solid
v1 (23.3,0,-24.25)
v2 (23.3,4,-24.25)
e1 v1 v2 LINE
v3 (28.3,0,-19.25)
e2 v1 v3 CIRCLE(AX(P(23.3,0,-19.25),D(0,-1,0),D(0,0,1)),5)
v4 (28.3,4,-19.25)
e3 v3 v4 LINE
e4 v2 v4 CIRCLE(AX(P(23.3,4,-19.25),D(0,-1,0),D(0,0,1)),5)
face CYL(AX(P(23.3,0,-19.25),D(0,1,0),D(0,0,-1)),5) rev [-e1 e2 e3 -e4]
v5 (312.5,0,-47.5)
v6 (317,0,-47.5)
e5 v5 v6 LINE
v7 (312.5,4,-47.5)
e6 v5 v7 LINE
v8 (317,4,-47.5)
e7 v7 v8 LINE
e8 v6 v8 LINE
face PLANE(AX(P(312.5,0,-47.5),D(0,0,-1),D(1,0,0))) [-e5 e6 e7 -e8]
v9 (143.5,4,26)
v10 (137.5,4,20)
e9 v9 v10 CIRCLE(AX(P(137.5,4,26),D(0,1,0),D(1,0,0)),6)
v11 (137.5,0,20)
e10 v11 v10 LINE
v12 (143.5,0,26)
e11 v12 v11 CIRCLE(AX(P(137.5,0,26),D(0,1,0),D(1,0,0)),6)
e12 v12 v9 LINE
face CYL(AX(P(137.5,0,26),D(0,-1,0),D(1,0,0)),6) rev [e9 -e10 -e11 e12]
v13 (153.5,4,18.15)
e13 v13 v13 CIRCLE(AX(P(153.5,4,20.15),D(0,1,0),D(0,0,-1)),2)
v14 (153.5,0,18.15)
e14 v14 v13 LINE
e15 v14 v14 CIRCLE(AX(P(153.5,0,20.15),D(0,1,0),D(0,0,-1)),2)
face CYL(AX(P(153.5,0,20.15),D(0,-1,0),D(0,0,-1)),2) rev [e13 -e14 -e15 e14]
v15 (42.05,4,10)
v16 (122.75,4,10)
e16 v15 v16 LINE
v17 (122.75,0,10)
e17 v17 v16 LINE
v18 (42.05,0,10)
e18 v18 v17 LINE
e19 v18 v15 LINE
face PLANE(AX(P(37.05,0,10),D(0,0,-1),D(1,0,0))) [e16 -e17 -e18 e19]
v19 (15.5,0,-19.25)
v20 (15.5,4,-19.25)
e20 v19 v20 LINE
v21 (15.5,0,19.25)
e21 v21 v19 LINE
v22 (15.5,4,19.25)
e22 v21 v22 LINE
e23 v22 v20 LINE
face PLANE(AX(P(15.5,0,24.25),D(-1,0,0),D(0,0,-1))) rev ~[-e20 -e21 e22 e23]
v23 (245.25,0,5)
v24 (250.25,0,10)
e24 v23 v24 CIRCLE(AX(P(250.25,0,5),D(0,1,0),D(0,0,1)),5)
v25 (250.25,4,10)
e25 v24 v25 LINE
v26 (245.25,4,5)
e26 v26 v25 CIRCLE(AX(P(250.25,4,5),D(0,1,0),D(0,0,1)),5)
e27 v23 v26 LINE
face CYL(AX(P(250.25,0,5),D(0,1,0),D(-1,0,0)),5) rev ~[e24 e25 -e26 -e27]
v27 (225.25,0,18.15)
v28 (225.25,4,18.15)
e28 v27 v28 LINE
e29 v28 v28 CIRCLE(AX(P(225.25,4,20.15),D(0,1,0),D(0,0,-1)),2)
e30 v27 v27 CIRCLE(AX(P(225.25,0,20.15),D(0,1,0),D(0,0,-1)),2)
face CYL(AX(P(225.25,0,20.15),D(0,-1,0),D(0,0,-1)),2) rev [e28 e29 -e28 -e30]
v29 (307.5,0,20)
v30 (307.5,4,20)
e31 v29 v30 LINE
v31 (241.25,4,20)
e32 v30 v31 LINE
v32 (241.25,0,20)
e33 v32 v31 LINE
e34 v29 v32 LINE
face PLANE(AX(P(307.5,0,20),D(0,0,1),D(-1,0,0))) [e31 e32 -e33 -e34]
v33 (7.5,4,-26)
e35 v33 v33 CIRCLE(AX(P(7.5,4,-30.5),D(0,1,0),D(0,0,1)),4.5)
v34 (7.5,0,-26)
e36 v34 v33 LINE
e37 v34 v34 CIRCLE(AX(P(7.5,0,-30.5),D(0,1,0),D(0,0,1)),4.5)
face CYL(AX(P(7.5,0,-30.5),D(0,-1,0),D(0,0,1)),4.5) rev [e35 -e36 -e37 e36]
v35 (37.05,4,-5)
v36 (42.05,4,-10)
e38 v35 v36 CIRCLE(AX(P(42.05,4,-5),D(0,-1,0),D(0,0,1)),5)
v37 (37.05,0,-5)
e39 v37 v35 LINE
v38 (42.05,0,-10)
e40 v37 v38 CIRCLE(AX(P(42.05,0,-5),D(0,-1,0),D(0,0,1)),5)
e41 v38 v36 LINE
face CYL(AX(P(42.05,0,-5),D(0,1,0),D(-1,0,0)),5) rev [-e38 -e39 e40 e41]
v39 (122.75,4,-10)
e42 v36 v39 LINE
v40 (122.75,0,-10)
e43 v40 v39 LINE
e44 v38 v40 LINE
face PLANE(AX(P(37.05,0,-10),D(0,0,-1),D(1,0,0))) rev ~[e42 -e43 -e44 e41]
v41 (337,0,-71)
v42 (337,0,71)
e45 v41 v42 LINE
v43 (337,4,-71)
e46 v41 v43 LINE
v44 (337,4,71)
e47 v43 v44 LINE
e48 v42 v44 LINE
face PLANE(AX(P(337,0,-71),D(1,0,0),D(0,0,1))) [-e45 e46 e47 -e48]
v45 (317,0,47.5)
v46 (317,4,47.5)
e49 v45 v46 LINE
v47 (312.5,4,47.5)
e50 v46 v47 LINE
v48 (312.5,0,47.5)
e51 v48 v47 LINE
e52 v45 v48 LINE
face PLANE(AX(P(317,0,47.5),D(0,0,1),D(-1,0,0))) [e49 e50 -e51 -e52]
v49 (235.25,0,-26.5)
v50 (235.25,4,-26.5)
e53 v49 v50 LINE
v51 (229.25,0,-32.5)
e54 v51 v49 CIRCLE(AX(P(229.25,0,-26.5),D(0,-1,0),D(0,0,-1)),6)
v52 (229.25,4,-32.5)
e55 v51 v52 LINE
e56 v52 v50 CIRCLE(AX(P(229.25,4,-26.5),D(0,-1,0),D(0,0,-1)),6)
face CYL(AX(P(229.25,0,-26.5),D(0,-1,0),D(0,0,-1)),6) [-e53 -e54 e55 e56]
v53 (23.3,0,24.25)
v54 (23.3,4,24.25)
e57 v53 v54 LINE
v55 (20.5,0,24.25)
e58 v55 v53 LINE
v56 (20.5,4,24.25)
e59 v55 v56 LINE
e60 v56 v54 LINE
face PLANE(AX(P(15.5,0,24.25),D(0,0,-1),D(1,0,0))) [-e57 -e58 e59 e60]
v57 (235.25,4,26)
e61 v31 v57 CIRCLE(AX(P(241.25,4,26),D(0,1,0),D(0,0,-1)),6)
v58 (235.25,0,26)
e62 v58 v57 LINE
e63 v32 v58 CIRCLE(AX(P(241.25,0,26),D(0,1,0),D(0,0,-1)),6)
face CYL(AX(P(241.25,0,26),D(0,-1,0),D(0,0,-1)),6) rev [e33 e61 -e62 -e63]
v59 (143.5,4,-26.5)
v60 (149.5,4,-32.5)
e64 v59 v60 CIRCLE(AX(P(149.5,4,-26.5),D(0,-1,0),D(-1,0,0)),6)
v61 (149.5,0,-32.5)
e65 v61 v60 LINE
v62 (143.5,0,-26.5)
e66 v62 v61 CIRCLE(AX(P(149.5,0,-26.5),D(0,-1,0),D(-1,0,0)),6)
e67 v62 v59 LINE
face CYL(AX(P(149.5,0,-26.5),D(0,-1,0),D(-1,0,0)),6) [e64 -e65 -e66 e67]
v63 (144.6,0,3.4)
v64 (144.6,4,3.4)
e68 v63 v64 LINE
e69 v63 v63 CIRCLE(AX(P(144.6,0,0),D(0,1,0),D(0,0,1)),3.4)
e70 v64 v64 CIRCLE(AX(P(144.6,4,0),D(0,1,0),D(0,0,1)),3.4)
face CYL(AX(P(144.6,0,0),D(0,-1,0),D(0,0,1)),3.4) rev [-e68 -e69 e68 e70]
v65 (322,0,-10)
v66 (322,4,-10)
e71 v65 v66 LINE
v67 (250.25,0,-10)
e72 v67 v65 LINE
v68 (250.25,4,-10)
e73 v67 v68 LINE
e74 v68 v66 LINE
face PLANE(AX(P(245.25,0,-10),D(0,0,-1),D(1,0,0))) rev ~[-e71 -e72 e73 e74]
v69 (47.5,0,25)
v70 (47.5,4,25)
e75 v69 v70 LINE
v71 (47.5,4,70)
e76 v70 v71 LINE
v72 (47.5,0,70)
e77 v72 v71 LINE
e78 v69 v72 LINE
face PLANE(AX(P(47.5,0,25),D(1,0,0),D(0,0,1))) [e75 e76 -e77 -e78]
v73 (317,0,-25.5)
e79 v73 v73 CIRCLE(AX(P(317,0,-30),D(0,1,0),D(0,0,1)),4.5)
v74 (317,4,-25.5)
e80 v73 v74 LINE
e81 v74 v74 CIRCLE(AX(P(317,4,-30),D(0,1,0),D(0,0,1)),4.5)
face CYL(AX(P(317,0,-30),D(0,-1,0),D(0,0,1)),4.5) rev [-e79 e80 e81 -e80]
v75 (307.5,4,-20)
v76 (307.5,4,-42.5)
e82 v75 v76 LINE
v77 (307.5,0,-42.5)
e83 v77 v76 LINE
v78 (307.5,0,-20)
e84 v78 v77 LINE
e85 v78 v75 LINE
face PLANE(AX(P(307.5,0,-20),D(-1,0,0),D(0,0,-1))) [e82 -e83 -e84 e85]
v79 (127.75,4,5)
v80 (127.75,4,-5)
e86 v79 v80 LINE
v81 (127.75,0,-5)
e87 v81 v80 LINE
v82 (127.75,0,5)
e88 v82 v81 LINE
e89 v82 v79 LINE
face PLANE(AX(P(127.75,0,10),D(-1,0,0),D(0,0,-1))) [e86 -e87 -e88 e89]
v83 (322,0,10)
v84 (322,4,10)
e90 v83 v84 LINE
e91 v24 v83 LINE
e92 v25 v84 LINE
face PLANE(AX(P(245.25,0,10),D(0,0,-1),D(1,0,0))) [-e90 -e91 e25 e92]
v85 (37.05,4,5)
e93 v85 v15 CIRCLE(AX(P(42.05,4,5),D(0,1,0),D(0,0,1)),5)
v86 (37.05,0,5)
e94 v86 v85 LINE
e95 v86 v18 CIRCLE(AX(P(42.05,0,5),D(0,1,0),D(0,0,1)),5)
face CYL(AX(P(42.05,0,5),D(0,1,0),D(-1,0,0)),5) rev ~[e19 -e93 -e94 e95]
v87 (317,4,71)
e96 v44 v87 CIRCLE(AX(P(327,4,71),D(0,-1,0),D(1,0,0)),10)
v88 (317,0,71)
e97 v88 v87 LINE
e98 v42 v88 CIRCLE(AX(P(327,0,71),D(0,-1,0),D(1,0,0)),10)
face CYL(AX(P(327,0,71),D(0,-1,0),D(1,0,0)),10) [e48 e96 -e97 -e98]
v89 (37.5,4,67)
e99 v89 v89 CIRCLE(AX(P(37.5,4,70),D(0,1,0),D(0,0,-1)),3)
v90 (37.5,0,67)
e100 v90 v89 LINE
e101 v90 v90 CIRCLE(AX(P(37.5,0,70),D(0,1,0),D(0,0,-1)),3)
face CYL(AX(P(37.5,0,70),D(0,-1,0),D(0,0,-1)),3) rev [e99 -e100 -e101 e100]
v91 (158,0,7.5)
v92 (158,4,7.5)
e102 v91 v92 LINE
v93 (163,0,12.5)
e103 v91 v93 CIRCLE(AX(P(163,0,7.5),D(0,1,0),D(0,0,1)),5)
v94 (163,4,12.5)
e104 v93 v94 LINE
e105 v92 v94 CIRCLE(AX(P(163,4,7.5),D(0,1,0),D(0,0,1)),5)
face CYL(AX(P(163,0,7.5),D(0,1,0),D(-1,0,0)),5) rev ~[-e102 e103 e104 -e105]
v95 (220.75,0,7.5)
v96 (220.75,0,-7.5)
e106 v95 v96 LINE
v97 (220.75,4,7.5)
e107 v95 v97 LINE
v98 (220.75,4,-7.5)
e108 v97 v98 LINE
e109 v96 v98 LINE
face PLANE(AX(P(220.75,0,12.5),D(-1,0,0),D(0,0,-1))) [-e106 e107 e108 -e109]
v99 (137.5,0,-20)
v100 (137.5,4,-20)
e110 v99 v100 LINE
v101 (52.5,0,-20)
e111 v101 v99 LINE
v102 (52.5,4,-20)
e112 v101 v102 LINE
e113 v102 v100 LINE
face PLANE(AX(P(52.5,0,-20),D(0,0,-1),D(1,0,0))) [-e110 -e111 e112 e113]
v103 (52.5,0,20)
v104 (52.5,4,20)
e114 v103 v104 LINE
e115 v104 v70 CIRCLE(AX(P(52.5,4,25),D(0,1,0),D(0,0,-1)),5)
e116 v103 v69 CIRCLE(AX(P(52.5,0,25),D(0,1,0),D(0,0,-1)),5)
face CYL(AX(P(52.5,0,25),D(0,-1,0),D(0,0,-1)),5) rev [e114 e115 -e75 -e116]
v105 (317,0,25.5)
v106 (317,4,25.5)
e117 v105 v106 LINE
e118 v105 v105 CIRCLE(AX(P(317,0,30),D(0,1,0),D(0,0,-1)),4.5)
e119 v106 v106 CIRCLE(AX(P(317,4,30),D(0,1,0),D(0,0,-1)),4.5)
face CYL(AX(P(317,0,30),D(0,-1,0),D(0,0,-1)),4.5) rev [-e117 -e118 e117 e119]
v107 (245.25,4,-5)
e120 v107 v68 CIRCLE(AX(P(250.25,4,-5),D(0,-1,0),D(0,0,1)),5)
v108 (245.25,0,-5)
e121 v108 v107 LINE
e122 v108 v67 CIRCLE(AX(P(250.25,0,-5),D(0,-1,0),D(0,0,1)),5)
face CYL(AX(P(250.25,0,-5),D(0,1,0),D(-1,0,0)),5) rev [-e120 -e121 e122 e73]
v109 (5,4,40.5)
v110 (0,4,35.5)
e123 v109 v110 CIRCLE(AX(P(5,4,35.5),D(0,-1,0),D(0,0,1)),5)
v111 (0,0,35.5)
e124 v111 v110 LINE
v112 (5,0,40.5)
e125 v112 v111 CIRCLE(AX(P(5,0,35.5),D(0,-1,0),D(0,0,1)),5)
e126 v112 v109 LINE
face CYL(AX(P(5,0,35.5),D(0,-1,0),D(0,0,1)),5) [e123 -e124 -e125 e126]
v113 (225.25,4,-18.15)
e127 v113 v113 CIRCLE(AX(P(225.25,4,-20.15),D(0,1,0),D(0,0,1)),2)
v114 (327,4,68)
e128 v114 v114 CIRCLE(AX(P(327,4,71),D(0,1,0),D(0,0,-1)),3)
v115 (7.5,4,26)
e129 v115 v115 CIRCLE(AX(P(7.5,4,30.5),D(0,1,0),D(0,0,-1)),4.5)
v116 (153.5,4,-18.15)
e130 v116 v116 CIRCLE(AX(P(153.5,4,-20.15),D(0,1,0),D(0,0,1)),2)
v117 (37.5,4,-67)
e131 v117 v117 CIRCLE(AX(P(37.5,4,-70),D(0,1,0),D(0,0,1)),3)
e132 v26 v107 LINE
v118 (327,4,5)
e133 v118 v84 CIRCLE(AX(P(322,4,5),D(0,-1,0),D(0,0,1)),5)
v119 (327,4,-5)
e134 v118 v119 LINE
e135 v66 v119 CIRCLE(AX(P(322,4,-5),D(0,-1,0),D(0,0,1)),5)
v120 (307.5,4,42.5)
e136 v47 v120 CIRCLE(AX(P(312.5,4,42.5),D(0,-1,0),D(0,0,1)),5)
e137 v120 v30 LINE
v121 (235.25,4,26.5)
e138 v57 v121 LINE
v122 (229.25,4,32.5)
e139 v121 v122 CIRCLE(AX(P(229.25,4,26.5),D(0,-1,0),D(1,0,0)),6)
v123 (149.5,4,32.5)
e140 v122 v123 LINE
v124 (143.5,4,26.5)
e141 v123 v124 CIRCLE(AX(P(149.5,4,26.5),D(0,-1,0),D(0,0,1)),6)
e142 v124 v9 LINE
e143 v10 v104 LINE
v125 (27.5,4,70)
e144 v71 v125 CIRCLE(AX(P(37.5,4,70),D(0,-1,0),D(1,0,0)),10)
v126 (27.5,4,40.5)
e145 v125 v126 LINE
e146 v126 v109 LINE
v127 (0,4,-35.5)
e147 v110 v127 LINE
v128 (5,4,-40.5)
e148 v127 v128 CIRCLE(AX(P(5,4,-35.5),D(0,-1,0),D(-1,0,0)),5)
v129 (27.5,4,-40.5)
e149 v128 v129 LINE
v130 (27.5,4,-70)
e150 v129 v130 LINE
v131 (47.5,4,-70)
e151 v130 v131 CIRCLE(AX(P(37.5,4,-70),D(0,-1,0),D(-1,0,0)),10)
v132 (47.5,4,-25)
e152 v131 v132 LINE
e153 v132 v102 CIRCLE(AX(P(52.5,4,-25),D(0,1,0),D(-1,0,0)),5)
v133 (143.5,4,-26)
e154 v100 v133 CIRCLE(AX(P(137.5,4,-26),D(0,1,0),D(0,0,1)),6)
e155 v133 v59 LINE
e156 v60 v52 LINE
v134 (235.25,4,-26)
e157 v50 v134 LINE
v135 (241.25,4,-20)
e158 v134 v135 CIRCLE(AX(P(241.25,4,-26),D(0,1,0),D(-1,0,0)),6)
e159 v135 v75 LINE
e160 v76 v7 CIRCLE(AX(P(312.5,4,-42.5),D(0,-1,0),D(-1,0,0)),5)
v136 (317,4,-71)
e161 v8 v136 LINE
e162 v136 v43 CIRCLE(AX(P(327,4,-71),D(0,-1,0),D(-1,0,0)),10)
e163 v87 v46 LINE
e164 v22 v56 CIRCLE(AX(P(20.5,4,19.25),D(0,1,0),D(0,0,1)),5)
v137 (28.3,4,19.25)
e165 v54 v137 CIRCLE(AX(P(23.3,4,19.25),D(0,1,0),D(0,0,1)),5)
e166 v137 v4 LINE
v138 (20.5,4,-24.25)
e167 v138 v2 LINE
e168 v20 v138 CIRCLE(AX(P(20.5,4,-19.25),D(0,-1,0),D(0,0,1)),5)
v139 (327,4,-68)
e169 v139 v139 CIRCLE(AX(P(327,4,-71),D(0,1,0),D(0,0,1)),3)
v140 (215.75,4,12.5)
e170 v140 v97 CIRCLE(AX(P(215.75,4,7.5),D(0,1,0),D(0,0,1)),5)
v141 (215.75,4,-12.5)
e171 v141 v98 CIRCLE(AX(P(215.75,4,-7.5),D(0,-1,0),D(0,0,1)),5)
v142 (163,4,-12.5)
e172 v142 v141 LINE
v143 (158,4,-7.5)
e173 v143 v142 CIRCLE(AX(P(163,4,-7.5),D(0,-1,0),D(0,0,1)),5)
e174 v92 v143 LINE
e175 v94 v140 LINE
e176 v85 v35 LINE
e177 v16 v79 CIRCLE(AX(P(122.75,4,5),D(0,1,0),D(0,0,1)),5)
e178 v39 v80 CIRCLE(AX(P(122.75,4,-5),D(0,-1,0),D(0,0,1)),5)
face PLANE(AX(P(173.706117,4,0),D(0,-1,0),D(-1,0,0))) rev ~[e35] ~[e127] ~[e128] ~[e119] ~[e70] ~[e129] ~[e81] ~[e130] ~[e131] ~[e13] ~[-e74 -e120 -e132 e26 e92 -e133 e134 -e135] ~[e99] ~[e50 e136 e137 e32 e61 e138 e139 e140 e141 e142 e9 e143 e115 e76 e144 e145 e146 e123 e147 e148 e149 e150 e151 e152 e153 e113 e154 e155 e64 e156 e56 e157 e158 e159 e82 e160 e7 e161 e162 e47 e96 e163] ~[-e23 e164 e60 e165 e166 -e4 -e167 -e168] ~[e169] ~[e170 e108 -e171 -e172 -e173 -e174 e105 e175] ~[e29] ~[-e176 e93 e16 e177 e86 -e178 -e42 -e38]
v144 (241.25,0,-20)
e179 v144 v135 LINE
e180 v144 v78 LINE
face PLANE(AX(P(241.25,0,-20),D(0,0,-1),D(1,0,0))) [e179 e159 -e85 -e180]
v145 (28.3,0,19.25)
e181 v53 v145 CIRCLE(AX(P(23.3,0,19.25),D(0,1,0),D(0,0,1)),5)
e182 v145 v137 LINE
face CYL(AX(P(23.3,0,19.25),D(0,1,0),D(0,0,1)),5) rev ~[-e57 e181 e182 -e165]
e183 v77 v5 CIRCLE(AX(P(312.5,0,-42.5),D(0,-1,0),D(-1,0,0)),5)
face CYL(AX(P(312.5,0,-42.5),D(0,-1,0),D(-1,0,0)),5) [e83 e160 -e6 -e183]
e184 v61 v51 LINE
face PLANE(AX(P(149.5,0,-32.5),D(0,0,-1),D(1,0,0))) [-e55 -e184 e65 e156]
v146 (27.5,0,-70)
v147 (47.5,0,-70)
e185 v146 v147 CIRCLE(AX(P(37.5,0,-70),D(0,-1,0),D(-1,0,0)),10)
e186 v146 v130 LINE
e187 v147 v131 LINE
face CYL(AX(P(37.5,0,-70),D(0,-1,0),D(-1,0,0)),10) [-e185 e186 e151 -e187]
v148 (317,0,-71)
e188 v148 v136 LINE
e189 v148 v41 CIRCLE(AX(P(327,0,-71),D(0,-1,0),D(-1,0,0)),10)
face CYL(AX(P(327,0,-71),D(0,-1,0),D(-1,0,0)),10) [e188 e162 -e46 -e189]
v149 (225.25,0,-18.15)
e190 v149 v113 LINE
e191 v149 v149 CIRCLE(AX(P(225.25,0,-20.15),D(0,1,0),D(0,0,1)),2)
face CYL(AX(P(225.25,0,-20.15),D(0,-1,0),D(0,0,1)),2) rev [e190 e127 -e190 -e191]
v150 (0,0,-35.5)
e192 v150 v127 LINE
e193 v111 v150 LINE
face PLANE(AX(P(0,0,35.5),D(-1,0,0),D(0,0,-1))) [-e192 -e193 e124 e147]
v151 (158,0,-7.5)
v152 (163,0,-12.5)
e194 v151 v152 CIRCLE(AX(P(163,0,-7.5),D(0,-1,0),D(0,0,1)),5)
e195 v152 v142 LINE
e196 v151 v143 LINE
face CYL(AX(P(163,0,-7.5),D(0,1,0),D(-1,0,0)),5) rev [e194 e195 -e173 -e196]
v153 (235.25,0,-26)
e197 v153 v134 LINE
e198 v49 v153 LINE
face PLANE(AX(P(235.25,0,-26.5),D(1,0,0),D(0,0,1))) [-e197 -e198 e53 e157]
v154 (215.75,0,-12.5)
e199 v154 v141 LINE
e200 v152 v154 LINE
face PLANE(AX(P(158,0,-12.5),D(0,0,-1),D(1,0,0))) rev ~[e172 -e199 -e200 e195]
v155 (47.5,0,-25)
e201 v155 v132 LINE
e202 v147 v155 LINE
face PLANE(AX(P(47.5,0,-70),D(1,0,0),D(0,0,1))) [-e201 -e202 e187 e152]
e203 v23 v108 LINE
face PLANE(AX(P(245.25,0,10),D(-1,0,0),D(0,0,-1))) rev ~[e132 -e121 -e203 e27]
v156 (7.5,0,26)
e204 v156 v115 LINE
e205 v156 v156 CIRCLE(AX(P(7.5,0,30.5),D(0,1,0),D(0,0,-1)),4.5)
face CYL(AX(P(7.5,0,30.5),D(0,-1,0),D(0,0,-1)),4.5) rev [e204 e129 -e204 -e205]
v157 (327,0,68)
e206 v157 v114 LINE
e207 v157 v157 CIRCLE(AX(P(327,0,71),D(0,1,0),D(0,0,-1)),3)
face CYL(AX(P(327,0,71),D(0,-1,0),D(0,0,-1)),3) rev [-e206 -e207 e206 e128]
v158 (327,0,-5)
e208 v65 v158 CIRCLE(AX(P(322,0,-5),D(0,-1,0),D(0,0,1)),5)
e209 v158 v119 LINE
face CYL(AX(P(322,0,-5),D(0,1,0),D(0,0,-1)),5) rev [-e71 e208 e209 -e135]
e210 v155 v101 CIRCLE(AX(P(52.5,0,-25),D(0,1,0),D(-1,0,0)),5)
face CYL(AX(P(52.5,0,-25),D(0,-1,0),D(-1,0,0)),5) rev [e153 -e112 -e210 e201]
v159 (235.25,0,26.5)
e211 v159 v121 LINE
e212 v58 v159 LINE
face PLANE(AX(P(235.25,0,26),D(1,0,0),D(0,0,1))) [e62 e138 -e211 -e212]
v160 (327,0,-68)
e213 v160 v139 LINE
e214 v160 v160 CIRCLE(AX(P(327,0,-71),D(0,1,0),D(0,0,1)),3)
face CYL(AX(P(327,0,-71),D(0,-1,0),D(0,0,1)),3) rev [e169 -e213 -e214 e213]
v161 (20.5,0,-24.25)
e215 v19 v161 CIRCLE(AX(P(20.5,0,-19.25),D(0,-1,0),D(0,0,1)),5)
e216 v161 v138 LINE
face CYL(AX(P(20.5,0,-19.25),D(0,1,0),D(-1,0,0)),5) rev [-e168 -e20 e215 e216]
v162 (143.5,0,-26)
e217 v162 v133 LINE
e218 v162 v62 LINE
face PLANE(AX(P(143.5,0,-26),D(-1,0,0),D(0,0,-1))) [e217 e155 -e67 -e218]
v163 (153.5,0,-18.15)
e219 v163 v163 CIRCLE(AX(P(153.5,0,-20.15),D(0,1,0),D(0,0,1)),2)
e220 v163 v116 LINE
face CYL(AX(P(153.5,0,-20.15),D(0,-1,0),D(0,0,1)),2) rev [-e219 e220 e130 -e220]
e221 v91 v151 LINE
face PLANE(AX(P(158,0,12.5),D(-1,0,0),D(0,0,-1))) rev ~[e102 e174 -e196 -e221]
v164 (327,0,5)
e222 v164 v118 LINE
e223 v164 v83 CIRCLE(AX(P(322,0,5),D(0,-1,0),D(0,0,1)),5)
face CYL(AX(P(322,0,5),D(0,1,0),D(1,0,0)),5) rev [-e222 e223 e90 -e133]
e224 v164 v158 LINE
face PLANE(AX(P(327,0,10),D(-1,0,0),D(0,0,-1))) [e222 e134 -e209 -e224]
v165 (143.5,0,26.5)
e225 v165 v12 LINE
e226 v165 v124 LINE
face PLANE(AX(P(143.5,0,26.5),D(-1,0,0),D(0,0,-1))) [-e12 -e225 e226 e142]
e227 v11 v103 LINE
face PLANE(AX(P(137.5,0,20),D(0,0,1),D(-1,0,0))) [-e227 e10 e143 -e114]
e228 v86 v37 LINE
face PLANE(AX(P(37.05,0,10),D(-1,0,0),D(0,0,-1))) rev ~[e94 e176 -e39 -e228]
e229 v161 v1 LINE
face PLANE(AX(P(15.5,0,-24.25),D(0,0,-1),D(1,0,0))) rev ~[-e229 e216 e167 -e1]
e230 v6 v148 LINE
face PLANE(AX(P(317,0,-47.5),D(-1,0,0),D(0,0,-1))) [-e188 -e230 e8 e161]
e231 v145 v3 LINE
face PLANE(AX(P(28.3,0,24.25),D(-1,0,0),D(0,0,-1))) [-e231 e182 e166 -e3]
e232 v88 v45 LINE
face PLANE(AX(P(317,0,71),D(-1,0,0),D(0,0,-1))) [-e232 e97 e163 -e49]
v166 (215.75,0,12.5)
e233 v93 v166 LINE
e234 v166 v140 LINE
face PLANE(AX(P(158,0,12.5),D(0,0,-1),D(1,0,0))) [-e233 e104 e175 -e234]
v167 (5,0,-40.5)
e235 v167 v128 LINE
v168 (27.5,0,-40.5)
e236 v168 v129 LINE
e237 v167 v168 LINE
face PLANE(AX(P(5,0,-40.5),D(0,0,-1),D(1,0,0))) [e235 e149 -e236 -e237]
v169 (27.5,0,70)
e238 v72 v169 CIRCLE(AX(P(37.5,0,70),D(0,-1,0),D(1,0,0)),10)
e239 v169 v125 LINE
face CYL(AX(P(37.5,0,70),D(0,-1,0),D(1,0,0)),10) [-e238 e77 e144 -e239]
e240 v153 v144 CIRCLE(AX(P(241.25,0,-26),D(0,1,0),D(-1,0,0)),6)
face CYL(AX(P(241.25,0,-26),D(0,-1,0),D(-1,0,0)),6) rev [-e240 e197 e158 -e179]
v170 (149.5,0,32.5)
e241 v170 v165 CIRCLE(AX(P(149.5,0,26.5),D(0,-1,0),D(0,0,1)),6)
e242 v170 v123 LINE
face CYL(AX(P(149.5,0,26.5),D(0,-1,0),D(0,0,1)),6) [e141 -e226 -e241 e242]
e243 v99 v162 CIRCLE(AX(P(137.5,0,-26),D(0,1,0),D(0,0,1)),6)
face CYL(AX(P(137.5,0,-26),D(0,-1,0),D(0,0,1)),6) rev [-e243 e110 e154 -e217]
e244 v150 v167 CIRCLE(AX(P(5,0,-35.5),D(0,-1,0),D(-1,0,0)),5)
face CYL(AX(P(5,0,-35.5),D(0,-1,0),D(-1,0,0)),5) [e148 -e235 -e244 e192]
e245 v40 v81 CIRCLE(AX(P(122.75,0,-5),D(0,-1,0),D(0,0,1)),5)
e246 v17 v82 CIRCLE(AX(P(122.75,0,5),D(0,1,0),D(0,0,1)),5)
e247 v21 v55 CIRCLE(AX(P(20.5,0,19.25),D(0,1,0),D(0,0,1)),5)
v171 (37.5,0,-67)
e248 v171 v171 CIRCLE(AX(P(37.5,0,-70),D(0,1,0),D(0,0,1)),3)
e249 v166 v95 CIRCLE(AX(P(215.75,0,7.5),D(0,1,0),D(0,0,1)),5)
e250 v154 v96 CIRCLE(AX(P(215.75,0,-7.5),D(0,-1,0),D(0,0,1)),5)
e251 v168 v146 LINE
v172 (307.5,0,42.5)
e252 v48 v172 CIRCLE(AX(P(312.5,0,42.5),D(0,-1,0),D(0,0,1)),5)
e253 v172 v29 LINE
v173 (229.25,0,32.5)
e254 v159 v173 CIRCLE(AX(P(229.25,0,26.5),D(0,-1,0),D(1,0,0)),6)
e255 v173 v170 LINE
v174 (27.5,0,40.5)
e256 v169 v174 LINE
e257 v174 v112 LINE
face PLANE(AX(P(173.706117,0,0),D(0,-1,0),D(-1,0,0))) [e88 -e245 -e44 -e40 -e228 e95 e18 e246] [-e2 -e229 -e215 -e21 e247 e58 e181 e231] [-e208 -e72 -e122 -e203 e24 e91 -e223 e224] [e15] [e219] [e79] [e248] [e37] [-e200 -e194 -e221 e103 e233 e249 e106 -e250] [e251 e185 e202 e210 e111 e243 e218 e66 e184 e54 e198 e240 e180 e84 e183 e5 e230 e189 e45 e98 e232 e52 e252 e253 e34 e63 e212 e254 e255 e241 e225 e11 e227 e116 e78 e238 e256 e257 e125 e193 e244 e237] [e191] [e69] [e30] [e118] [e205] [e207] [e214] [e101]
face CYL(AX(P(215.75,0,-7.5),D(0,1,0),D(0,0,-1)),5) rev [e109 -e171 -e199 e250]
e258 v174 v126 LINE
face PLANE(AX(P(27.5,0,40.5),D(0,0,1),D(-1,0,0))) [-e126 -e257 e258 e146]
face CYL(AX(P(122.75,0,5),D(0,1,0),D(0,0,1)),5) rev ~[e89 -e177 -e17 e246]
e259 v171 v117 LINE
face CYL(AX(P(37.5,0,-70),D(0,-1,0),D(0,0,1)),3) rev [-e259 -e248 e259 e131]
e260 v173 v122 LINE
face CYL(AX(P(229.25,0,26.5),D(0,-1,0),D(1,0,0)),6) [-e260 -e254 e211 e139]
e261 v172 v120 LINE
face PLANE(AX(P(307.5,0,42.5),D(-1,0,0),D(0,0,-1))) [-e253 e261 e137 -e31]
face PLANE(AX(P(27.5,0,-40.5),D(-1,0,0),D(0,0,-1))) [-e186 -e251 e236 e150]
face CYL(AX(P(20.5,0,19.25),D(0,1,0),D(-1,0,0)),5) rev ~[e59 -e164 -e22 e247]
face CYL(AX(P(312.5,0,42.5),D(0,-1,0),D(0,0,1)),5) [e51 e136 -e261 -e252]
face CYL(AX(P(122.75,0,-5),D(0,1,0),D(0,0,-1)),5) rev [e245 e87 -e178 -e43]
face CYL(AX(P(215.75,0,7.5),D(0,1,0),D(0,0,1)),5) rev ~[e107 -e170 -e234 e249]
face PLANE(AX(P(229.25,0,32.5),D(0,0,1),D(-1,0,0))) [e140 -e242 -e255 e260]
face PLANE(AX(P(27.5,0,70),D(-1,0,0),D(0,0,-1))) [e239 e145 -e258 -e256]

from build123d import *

# Parameters (mm, degrees)
CROQUIS1_R              = 3
CROQUIS1_R_2            = 3.4
CROQUIS1_R_3            = 2
CROQUIS1_R_4            = 4.5
CROQUIS1_W              = 12.8
CROQUIS1_H              = 48.5
CROQUIS1_W_2            = 62.75
CROQUIS1_H_2            = 25
CROQUIS1_W_3            = 90.7
CROQUIS1_H_3            = 20
CROQUIS1_W_4            = 81.75
SALIENTE_EXTRUIR1_DEPTH = 4
REDONDEO1_R             = 5


with BuildPart() as part:
    # Croquis1 → Saliente-Extruir1 (new body)
    with BuildSketch(Plane(origin=(0, 0, 0), x_dir=(1, 0, 0), z_dir=(0, 1, 0))):
        with BuildLine():
            Line((0, -35.5), (0, 35.5))
            ThreePointArc((0, 35.5), (1.464466094, 39.035533906), (5, 40.5))
            Line((5, 40.5), (27.5, 40.5))
            Line((27.5, 40.5), (27.5, 70))
            ThreePointArc((27.5, 70), (37.5, 80), (47.5, 70))
            Line((47.5, 70), (47.5, 25))
            ThreePointArc((47.5, 25), (48.964466094, 21.464466094), (52.5, 20))
            Line((52.5, 20), (137.5, 20))
            ThreePointArc((137.5, 20), (141.742640687, 21.757359313), (143.5, 26))
            Line((143.5, 26), (143.5, 26.5))
            ThreePointArc((143.5, 26.5), (145.257359313, 30.742640687), (149.5, 32.5))
            Line((149.5, 32.5), (229.25, 32.5))
            ThreePointArc((229.25, 32.5), (233.492640687, 30.742640687), (235.25, 26.5))
            Line((235.25, 26.5), (235.25, 26))
            ThreePointArc((235.25, 26), (237.007359313, 21.757359313), (241.25, 20))
            Line((241.25, 20), (307.5, 20))
            Line((307.5, 20), (307.5, 42.5))
            ThreePointArc((307.5, 42.5), (308.964466094, 46.035533906), (312.5, 47.5))
            Line((312.5, 47.5), (317, 47.5))
            Line((317, 47.5), (317, 71))
            ThreePointArc((317, 71), (327, 81), (337, 71))
            Line((337, 71), (337, -71))
            ThreePointArc((337, -71), (327, -81), (317, -71))
            Line((317, -71), (317, -47.5))
            Line((317, -47.5), (312.5, -47.5))
            ThreePointArc((312.5, -47.5), (308.964466094, -46.035533906), (307.5, -42.5))
            Line((307.5, -42.5), (307.5, -20))
            Line((307.5, -20), (241.25, -20))
            ThreePointArc((241.25, -20), (237.007359313, -21.757359313), (235.25, -26))
            Line((235.25, -26), (235.25, -26.5))
            ThreePointArc((235.25, -26.5), (233.492640687, -30.742640687), (229.25, -32.5))
            Line((229.25, -32.5), (149.5, -32.5))
            ThreePointArc((149.5, -32.5), (145.257359313, -30.742640687), (143.5, -26.5))
            Line((143.5, -26.5), (143.5, -26))
            ThreePointArc((143.5, -26), (141.742640687, -21.757359313), (137.5, -20))
            Line((137.5, -20), (52.5, -20))
            ThreePointArc((52.5, -20), (48.964466094, -21.464466094), (47.5, -25))
            Line((47.5, -25), (47.5, -70))
            ThreePointArc((47.5, -70), (37.5, -80), (27.5, -70))
            Line((27.5, -70), (27.5, -40.5))
            Line((27.5, -40.5), (5, -40.5))
            ThreePointArc((5, -40.5), (1.464466094, -39.035533906), (0, -35.5))
        make_face()
        with Locations(Location((37.5, 70, 0), (0, 0, 270))):
            Circle(CROQUIS1_R, mode=Mode.SUBTRACT)
        with Locations(Location((144.6, 0, 0), (0, 0, 270))):
            Circle(CROQUIS1_R_2, mode=Mode.SUBTRACT)
        with Locations(Location((153.5, 20.15, 0), (0, 0, 270))):
            Circle(CROQUIS1_R_3, mode=Mode.SUBTRACT)
        with Locations(Location((225.25, 20.15, 0), (0, 0, 270))):
            Circle(CROQUIS1_R_3, mode=Mode.SUBTRACT)
        with Locations(Location((317, 30, 0), (0, 0, 270))):
            Circle(CROQUIS1_R_4, mode=Mode.SUBTRACT)
        with Locations(Location((327, 71, 0), (0, 0, 270))):
            Circle(CROQUIS1_R, mode=Mode.SUBTRACT)
        with Locations(Location((7.5, 30.5, 0), (0, 0, 270))):
            Circle(CROQUIS1_R_4, mode=Mode.SUBTRACT)
        with Locations(Location((327, -71, 0), (0, 0, 90))):
            Circle(CROQUIS1_R, mode=Mode.SUBTRACT)
        with Locations(Location((317, -30, 0), (0, 0, 90))):
            Circle(CROQUIS1_R_4, mode=Mode.SUBTRACT)
        with Locations(Location((225.25, -20.15, 0), (0, 0, 90))):
            Circle(CROQUIS1_R_3, mode=Mode.SUBTRACT)
        with Locations(Location((153.5, -20.15, 0), (0, 0, 90))):
            Circle(CROQUIS1_R_3, mode=Mode.SUBTRACT)
        with Locations(Location((37.5, -70, 0), (0, 0, 90))):
            Circle(CROQUIS1_R, mode=Mode.SUBTRACT)
        with Locations(Location((7.5, -30.5, 0), (0, 0, 90))):
            Circle(CROQUIS1_R_4, mode=Mode.SUBTRACT)
        with Locations((21.9, 0)):
            Rectangle(CROQUIS1_W, CROQUIS1_H, mode=Mode.SUBTRACT)
        with Locations((189.375, 0)):
            Rectangle(CROQUIS1_W_2, CROQUIS1_H_2, mode=Mode.SUBTRACT)
        with Locations((82.4, 0)):
            Rectangle(CROQUIS1_W_3, CROQUIS1_H_3, mode=Mode.SUBTRACT)
        with Locations((286.125, 0)):
            Rectangle(CROQUIS1_W_4, CROQUIS1_H_3, mode=Mode.SUBTRACT)
    extrude(amount=SALIENTE_EXTRUIR1_DEPTH)

    # Redondeo1
    redondeo1_edges = [part.edges().sort_by_distance(p)[0] for p in [
        (127.75, 2, 10),
        (127.75, 2, -10),
        (37.05, 2, -10),
        (37.05, 2, 10),
        (28.3, 2, -24.25),
        (15.5, 2, -24.25),
        (15.5, 2, 24.25),
        (28.3, 2, 24.25),
        (327, 2, 10),
        (327, 2, -10),
        (245.25, 2, -10),
        (245.25, 2, 10),
        (220.75, 2, -12.5),
        (158, 2, -12.5),
        (158, 2, 12.5),
        (220.75, 2, 12.5),
    ]]
    fillet(redondeo1_edges, radius=REDONDEO1_R)


solid = part.part
